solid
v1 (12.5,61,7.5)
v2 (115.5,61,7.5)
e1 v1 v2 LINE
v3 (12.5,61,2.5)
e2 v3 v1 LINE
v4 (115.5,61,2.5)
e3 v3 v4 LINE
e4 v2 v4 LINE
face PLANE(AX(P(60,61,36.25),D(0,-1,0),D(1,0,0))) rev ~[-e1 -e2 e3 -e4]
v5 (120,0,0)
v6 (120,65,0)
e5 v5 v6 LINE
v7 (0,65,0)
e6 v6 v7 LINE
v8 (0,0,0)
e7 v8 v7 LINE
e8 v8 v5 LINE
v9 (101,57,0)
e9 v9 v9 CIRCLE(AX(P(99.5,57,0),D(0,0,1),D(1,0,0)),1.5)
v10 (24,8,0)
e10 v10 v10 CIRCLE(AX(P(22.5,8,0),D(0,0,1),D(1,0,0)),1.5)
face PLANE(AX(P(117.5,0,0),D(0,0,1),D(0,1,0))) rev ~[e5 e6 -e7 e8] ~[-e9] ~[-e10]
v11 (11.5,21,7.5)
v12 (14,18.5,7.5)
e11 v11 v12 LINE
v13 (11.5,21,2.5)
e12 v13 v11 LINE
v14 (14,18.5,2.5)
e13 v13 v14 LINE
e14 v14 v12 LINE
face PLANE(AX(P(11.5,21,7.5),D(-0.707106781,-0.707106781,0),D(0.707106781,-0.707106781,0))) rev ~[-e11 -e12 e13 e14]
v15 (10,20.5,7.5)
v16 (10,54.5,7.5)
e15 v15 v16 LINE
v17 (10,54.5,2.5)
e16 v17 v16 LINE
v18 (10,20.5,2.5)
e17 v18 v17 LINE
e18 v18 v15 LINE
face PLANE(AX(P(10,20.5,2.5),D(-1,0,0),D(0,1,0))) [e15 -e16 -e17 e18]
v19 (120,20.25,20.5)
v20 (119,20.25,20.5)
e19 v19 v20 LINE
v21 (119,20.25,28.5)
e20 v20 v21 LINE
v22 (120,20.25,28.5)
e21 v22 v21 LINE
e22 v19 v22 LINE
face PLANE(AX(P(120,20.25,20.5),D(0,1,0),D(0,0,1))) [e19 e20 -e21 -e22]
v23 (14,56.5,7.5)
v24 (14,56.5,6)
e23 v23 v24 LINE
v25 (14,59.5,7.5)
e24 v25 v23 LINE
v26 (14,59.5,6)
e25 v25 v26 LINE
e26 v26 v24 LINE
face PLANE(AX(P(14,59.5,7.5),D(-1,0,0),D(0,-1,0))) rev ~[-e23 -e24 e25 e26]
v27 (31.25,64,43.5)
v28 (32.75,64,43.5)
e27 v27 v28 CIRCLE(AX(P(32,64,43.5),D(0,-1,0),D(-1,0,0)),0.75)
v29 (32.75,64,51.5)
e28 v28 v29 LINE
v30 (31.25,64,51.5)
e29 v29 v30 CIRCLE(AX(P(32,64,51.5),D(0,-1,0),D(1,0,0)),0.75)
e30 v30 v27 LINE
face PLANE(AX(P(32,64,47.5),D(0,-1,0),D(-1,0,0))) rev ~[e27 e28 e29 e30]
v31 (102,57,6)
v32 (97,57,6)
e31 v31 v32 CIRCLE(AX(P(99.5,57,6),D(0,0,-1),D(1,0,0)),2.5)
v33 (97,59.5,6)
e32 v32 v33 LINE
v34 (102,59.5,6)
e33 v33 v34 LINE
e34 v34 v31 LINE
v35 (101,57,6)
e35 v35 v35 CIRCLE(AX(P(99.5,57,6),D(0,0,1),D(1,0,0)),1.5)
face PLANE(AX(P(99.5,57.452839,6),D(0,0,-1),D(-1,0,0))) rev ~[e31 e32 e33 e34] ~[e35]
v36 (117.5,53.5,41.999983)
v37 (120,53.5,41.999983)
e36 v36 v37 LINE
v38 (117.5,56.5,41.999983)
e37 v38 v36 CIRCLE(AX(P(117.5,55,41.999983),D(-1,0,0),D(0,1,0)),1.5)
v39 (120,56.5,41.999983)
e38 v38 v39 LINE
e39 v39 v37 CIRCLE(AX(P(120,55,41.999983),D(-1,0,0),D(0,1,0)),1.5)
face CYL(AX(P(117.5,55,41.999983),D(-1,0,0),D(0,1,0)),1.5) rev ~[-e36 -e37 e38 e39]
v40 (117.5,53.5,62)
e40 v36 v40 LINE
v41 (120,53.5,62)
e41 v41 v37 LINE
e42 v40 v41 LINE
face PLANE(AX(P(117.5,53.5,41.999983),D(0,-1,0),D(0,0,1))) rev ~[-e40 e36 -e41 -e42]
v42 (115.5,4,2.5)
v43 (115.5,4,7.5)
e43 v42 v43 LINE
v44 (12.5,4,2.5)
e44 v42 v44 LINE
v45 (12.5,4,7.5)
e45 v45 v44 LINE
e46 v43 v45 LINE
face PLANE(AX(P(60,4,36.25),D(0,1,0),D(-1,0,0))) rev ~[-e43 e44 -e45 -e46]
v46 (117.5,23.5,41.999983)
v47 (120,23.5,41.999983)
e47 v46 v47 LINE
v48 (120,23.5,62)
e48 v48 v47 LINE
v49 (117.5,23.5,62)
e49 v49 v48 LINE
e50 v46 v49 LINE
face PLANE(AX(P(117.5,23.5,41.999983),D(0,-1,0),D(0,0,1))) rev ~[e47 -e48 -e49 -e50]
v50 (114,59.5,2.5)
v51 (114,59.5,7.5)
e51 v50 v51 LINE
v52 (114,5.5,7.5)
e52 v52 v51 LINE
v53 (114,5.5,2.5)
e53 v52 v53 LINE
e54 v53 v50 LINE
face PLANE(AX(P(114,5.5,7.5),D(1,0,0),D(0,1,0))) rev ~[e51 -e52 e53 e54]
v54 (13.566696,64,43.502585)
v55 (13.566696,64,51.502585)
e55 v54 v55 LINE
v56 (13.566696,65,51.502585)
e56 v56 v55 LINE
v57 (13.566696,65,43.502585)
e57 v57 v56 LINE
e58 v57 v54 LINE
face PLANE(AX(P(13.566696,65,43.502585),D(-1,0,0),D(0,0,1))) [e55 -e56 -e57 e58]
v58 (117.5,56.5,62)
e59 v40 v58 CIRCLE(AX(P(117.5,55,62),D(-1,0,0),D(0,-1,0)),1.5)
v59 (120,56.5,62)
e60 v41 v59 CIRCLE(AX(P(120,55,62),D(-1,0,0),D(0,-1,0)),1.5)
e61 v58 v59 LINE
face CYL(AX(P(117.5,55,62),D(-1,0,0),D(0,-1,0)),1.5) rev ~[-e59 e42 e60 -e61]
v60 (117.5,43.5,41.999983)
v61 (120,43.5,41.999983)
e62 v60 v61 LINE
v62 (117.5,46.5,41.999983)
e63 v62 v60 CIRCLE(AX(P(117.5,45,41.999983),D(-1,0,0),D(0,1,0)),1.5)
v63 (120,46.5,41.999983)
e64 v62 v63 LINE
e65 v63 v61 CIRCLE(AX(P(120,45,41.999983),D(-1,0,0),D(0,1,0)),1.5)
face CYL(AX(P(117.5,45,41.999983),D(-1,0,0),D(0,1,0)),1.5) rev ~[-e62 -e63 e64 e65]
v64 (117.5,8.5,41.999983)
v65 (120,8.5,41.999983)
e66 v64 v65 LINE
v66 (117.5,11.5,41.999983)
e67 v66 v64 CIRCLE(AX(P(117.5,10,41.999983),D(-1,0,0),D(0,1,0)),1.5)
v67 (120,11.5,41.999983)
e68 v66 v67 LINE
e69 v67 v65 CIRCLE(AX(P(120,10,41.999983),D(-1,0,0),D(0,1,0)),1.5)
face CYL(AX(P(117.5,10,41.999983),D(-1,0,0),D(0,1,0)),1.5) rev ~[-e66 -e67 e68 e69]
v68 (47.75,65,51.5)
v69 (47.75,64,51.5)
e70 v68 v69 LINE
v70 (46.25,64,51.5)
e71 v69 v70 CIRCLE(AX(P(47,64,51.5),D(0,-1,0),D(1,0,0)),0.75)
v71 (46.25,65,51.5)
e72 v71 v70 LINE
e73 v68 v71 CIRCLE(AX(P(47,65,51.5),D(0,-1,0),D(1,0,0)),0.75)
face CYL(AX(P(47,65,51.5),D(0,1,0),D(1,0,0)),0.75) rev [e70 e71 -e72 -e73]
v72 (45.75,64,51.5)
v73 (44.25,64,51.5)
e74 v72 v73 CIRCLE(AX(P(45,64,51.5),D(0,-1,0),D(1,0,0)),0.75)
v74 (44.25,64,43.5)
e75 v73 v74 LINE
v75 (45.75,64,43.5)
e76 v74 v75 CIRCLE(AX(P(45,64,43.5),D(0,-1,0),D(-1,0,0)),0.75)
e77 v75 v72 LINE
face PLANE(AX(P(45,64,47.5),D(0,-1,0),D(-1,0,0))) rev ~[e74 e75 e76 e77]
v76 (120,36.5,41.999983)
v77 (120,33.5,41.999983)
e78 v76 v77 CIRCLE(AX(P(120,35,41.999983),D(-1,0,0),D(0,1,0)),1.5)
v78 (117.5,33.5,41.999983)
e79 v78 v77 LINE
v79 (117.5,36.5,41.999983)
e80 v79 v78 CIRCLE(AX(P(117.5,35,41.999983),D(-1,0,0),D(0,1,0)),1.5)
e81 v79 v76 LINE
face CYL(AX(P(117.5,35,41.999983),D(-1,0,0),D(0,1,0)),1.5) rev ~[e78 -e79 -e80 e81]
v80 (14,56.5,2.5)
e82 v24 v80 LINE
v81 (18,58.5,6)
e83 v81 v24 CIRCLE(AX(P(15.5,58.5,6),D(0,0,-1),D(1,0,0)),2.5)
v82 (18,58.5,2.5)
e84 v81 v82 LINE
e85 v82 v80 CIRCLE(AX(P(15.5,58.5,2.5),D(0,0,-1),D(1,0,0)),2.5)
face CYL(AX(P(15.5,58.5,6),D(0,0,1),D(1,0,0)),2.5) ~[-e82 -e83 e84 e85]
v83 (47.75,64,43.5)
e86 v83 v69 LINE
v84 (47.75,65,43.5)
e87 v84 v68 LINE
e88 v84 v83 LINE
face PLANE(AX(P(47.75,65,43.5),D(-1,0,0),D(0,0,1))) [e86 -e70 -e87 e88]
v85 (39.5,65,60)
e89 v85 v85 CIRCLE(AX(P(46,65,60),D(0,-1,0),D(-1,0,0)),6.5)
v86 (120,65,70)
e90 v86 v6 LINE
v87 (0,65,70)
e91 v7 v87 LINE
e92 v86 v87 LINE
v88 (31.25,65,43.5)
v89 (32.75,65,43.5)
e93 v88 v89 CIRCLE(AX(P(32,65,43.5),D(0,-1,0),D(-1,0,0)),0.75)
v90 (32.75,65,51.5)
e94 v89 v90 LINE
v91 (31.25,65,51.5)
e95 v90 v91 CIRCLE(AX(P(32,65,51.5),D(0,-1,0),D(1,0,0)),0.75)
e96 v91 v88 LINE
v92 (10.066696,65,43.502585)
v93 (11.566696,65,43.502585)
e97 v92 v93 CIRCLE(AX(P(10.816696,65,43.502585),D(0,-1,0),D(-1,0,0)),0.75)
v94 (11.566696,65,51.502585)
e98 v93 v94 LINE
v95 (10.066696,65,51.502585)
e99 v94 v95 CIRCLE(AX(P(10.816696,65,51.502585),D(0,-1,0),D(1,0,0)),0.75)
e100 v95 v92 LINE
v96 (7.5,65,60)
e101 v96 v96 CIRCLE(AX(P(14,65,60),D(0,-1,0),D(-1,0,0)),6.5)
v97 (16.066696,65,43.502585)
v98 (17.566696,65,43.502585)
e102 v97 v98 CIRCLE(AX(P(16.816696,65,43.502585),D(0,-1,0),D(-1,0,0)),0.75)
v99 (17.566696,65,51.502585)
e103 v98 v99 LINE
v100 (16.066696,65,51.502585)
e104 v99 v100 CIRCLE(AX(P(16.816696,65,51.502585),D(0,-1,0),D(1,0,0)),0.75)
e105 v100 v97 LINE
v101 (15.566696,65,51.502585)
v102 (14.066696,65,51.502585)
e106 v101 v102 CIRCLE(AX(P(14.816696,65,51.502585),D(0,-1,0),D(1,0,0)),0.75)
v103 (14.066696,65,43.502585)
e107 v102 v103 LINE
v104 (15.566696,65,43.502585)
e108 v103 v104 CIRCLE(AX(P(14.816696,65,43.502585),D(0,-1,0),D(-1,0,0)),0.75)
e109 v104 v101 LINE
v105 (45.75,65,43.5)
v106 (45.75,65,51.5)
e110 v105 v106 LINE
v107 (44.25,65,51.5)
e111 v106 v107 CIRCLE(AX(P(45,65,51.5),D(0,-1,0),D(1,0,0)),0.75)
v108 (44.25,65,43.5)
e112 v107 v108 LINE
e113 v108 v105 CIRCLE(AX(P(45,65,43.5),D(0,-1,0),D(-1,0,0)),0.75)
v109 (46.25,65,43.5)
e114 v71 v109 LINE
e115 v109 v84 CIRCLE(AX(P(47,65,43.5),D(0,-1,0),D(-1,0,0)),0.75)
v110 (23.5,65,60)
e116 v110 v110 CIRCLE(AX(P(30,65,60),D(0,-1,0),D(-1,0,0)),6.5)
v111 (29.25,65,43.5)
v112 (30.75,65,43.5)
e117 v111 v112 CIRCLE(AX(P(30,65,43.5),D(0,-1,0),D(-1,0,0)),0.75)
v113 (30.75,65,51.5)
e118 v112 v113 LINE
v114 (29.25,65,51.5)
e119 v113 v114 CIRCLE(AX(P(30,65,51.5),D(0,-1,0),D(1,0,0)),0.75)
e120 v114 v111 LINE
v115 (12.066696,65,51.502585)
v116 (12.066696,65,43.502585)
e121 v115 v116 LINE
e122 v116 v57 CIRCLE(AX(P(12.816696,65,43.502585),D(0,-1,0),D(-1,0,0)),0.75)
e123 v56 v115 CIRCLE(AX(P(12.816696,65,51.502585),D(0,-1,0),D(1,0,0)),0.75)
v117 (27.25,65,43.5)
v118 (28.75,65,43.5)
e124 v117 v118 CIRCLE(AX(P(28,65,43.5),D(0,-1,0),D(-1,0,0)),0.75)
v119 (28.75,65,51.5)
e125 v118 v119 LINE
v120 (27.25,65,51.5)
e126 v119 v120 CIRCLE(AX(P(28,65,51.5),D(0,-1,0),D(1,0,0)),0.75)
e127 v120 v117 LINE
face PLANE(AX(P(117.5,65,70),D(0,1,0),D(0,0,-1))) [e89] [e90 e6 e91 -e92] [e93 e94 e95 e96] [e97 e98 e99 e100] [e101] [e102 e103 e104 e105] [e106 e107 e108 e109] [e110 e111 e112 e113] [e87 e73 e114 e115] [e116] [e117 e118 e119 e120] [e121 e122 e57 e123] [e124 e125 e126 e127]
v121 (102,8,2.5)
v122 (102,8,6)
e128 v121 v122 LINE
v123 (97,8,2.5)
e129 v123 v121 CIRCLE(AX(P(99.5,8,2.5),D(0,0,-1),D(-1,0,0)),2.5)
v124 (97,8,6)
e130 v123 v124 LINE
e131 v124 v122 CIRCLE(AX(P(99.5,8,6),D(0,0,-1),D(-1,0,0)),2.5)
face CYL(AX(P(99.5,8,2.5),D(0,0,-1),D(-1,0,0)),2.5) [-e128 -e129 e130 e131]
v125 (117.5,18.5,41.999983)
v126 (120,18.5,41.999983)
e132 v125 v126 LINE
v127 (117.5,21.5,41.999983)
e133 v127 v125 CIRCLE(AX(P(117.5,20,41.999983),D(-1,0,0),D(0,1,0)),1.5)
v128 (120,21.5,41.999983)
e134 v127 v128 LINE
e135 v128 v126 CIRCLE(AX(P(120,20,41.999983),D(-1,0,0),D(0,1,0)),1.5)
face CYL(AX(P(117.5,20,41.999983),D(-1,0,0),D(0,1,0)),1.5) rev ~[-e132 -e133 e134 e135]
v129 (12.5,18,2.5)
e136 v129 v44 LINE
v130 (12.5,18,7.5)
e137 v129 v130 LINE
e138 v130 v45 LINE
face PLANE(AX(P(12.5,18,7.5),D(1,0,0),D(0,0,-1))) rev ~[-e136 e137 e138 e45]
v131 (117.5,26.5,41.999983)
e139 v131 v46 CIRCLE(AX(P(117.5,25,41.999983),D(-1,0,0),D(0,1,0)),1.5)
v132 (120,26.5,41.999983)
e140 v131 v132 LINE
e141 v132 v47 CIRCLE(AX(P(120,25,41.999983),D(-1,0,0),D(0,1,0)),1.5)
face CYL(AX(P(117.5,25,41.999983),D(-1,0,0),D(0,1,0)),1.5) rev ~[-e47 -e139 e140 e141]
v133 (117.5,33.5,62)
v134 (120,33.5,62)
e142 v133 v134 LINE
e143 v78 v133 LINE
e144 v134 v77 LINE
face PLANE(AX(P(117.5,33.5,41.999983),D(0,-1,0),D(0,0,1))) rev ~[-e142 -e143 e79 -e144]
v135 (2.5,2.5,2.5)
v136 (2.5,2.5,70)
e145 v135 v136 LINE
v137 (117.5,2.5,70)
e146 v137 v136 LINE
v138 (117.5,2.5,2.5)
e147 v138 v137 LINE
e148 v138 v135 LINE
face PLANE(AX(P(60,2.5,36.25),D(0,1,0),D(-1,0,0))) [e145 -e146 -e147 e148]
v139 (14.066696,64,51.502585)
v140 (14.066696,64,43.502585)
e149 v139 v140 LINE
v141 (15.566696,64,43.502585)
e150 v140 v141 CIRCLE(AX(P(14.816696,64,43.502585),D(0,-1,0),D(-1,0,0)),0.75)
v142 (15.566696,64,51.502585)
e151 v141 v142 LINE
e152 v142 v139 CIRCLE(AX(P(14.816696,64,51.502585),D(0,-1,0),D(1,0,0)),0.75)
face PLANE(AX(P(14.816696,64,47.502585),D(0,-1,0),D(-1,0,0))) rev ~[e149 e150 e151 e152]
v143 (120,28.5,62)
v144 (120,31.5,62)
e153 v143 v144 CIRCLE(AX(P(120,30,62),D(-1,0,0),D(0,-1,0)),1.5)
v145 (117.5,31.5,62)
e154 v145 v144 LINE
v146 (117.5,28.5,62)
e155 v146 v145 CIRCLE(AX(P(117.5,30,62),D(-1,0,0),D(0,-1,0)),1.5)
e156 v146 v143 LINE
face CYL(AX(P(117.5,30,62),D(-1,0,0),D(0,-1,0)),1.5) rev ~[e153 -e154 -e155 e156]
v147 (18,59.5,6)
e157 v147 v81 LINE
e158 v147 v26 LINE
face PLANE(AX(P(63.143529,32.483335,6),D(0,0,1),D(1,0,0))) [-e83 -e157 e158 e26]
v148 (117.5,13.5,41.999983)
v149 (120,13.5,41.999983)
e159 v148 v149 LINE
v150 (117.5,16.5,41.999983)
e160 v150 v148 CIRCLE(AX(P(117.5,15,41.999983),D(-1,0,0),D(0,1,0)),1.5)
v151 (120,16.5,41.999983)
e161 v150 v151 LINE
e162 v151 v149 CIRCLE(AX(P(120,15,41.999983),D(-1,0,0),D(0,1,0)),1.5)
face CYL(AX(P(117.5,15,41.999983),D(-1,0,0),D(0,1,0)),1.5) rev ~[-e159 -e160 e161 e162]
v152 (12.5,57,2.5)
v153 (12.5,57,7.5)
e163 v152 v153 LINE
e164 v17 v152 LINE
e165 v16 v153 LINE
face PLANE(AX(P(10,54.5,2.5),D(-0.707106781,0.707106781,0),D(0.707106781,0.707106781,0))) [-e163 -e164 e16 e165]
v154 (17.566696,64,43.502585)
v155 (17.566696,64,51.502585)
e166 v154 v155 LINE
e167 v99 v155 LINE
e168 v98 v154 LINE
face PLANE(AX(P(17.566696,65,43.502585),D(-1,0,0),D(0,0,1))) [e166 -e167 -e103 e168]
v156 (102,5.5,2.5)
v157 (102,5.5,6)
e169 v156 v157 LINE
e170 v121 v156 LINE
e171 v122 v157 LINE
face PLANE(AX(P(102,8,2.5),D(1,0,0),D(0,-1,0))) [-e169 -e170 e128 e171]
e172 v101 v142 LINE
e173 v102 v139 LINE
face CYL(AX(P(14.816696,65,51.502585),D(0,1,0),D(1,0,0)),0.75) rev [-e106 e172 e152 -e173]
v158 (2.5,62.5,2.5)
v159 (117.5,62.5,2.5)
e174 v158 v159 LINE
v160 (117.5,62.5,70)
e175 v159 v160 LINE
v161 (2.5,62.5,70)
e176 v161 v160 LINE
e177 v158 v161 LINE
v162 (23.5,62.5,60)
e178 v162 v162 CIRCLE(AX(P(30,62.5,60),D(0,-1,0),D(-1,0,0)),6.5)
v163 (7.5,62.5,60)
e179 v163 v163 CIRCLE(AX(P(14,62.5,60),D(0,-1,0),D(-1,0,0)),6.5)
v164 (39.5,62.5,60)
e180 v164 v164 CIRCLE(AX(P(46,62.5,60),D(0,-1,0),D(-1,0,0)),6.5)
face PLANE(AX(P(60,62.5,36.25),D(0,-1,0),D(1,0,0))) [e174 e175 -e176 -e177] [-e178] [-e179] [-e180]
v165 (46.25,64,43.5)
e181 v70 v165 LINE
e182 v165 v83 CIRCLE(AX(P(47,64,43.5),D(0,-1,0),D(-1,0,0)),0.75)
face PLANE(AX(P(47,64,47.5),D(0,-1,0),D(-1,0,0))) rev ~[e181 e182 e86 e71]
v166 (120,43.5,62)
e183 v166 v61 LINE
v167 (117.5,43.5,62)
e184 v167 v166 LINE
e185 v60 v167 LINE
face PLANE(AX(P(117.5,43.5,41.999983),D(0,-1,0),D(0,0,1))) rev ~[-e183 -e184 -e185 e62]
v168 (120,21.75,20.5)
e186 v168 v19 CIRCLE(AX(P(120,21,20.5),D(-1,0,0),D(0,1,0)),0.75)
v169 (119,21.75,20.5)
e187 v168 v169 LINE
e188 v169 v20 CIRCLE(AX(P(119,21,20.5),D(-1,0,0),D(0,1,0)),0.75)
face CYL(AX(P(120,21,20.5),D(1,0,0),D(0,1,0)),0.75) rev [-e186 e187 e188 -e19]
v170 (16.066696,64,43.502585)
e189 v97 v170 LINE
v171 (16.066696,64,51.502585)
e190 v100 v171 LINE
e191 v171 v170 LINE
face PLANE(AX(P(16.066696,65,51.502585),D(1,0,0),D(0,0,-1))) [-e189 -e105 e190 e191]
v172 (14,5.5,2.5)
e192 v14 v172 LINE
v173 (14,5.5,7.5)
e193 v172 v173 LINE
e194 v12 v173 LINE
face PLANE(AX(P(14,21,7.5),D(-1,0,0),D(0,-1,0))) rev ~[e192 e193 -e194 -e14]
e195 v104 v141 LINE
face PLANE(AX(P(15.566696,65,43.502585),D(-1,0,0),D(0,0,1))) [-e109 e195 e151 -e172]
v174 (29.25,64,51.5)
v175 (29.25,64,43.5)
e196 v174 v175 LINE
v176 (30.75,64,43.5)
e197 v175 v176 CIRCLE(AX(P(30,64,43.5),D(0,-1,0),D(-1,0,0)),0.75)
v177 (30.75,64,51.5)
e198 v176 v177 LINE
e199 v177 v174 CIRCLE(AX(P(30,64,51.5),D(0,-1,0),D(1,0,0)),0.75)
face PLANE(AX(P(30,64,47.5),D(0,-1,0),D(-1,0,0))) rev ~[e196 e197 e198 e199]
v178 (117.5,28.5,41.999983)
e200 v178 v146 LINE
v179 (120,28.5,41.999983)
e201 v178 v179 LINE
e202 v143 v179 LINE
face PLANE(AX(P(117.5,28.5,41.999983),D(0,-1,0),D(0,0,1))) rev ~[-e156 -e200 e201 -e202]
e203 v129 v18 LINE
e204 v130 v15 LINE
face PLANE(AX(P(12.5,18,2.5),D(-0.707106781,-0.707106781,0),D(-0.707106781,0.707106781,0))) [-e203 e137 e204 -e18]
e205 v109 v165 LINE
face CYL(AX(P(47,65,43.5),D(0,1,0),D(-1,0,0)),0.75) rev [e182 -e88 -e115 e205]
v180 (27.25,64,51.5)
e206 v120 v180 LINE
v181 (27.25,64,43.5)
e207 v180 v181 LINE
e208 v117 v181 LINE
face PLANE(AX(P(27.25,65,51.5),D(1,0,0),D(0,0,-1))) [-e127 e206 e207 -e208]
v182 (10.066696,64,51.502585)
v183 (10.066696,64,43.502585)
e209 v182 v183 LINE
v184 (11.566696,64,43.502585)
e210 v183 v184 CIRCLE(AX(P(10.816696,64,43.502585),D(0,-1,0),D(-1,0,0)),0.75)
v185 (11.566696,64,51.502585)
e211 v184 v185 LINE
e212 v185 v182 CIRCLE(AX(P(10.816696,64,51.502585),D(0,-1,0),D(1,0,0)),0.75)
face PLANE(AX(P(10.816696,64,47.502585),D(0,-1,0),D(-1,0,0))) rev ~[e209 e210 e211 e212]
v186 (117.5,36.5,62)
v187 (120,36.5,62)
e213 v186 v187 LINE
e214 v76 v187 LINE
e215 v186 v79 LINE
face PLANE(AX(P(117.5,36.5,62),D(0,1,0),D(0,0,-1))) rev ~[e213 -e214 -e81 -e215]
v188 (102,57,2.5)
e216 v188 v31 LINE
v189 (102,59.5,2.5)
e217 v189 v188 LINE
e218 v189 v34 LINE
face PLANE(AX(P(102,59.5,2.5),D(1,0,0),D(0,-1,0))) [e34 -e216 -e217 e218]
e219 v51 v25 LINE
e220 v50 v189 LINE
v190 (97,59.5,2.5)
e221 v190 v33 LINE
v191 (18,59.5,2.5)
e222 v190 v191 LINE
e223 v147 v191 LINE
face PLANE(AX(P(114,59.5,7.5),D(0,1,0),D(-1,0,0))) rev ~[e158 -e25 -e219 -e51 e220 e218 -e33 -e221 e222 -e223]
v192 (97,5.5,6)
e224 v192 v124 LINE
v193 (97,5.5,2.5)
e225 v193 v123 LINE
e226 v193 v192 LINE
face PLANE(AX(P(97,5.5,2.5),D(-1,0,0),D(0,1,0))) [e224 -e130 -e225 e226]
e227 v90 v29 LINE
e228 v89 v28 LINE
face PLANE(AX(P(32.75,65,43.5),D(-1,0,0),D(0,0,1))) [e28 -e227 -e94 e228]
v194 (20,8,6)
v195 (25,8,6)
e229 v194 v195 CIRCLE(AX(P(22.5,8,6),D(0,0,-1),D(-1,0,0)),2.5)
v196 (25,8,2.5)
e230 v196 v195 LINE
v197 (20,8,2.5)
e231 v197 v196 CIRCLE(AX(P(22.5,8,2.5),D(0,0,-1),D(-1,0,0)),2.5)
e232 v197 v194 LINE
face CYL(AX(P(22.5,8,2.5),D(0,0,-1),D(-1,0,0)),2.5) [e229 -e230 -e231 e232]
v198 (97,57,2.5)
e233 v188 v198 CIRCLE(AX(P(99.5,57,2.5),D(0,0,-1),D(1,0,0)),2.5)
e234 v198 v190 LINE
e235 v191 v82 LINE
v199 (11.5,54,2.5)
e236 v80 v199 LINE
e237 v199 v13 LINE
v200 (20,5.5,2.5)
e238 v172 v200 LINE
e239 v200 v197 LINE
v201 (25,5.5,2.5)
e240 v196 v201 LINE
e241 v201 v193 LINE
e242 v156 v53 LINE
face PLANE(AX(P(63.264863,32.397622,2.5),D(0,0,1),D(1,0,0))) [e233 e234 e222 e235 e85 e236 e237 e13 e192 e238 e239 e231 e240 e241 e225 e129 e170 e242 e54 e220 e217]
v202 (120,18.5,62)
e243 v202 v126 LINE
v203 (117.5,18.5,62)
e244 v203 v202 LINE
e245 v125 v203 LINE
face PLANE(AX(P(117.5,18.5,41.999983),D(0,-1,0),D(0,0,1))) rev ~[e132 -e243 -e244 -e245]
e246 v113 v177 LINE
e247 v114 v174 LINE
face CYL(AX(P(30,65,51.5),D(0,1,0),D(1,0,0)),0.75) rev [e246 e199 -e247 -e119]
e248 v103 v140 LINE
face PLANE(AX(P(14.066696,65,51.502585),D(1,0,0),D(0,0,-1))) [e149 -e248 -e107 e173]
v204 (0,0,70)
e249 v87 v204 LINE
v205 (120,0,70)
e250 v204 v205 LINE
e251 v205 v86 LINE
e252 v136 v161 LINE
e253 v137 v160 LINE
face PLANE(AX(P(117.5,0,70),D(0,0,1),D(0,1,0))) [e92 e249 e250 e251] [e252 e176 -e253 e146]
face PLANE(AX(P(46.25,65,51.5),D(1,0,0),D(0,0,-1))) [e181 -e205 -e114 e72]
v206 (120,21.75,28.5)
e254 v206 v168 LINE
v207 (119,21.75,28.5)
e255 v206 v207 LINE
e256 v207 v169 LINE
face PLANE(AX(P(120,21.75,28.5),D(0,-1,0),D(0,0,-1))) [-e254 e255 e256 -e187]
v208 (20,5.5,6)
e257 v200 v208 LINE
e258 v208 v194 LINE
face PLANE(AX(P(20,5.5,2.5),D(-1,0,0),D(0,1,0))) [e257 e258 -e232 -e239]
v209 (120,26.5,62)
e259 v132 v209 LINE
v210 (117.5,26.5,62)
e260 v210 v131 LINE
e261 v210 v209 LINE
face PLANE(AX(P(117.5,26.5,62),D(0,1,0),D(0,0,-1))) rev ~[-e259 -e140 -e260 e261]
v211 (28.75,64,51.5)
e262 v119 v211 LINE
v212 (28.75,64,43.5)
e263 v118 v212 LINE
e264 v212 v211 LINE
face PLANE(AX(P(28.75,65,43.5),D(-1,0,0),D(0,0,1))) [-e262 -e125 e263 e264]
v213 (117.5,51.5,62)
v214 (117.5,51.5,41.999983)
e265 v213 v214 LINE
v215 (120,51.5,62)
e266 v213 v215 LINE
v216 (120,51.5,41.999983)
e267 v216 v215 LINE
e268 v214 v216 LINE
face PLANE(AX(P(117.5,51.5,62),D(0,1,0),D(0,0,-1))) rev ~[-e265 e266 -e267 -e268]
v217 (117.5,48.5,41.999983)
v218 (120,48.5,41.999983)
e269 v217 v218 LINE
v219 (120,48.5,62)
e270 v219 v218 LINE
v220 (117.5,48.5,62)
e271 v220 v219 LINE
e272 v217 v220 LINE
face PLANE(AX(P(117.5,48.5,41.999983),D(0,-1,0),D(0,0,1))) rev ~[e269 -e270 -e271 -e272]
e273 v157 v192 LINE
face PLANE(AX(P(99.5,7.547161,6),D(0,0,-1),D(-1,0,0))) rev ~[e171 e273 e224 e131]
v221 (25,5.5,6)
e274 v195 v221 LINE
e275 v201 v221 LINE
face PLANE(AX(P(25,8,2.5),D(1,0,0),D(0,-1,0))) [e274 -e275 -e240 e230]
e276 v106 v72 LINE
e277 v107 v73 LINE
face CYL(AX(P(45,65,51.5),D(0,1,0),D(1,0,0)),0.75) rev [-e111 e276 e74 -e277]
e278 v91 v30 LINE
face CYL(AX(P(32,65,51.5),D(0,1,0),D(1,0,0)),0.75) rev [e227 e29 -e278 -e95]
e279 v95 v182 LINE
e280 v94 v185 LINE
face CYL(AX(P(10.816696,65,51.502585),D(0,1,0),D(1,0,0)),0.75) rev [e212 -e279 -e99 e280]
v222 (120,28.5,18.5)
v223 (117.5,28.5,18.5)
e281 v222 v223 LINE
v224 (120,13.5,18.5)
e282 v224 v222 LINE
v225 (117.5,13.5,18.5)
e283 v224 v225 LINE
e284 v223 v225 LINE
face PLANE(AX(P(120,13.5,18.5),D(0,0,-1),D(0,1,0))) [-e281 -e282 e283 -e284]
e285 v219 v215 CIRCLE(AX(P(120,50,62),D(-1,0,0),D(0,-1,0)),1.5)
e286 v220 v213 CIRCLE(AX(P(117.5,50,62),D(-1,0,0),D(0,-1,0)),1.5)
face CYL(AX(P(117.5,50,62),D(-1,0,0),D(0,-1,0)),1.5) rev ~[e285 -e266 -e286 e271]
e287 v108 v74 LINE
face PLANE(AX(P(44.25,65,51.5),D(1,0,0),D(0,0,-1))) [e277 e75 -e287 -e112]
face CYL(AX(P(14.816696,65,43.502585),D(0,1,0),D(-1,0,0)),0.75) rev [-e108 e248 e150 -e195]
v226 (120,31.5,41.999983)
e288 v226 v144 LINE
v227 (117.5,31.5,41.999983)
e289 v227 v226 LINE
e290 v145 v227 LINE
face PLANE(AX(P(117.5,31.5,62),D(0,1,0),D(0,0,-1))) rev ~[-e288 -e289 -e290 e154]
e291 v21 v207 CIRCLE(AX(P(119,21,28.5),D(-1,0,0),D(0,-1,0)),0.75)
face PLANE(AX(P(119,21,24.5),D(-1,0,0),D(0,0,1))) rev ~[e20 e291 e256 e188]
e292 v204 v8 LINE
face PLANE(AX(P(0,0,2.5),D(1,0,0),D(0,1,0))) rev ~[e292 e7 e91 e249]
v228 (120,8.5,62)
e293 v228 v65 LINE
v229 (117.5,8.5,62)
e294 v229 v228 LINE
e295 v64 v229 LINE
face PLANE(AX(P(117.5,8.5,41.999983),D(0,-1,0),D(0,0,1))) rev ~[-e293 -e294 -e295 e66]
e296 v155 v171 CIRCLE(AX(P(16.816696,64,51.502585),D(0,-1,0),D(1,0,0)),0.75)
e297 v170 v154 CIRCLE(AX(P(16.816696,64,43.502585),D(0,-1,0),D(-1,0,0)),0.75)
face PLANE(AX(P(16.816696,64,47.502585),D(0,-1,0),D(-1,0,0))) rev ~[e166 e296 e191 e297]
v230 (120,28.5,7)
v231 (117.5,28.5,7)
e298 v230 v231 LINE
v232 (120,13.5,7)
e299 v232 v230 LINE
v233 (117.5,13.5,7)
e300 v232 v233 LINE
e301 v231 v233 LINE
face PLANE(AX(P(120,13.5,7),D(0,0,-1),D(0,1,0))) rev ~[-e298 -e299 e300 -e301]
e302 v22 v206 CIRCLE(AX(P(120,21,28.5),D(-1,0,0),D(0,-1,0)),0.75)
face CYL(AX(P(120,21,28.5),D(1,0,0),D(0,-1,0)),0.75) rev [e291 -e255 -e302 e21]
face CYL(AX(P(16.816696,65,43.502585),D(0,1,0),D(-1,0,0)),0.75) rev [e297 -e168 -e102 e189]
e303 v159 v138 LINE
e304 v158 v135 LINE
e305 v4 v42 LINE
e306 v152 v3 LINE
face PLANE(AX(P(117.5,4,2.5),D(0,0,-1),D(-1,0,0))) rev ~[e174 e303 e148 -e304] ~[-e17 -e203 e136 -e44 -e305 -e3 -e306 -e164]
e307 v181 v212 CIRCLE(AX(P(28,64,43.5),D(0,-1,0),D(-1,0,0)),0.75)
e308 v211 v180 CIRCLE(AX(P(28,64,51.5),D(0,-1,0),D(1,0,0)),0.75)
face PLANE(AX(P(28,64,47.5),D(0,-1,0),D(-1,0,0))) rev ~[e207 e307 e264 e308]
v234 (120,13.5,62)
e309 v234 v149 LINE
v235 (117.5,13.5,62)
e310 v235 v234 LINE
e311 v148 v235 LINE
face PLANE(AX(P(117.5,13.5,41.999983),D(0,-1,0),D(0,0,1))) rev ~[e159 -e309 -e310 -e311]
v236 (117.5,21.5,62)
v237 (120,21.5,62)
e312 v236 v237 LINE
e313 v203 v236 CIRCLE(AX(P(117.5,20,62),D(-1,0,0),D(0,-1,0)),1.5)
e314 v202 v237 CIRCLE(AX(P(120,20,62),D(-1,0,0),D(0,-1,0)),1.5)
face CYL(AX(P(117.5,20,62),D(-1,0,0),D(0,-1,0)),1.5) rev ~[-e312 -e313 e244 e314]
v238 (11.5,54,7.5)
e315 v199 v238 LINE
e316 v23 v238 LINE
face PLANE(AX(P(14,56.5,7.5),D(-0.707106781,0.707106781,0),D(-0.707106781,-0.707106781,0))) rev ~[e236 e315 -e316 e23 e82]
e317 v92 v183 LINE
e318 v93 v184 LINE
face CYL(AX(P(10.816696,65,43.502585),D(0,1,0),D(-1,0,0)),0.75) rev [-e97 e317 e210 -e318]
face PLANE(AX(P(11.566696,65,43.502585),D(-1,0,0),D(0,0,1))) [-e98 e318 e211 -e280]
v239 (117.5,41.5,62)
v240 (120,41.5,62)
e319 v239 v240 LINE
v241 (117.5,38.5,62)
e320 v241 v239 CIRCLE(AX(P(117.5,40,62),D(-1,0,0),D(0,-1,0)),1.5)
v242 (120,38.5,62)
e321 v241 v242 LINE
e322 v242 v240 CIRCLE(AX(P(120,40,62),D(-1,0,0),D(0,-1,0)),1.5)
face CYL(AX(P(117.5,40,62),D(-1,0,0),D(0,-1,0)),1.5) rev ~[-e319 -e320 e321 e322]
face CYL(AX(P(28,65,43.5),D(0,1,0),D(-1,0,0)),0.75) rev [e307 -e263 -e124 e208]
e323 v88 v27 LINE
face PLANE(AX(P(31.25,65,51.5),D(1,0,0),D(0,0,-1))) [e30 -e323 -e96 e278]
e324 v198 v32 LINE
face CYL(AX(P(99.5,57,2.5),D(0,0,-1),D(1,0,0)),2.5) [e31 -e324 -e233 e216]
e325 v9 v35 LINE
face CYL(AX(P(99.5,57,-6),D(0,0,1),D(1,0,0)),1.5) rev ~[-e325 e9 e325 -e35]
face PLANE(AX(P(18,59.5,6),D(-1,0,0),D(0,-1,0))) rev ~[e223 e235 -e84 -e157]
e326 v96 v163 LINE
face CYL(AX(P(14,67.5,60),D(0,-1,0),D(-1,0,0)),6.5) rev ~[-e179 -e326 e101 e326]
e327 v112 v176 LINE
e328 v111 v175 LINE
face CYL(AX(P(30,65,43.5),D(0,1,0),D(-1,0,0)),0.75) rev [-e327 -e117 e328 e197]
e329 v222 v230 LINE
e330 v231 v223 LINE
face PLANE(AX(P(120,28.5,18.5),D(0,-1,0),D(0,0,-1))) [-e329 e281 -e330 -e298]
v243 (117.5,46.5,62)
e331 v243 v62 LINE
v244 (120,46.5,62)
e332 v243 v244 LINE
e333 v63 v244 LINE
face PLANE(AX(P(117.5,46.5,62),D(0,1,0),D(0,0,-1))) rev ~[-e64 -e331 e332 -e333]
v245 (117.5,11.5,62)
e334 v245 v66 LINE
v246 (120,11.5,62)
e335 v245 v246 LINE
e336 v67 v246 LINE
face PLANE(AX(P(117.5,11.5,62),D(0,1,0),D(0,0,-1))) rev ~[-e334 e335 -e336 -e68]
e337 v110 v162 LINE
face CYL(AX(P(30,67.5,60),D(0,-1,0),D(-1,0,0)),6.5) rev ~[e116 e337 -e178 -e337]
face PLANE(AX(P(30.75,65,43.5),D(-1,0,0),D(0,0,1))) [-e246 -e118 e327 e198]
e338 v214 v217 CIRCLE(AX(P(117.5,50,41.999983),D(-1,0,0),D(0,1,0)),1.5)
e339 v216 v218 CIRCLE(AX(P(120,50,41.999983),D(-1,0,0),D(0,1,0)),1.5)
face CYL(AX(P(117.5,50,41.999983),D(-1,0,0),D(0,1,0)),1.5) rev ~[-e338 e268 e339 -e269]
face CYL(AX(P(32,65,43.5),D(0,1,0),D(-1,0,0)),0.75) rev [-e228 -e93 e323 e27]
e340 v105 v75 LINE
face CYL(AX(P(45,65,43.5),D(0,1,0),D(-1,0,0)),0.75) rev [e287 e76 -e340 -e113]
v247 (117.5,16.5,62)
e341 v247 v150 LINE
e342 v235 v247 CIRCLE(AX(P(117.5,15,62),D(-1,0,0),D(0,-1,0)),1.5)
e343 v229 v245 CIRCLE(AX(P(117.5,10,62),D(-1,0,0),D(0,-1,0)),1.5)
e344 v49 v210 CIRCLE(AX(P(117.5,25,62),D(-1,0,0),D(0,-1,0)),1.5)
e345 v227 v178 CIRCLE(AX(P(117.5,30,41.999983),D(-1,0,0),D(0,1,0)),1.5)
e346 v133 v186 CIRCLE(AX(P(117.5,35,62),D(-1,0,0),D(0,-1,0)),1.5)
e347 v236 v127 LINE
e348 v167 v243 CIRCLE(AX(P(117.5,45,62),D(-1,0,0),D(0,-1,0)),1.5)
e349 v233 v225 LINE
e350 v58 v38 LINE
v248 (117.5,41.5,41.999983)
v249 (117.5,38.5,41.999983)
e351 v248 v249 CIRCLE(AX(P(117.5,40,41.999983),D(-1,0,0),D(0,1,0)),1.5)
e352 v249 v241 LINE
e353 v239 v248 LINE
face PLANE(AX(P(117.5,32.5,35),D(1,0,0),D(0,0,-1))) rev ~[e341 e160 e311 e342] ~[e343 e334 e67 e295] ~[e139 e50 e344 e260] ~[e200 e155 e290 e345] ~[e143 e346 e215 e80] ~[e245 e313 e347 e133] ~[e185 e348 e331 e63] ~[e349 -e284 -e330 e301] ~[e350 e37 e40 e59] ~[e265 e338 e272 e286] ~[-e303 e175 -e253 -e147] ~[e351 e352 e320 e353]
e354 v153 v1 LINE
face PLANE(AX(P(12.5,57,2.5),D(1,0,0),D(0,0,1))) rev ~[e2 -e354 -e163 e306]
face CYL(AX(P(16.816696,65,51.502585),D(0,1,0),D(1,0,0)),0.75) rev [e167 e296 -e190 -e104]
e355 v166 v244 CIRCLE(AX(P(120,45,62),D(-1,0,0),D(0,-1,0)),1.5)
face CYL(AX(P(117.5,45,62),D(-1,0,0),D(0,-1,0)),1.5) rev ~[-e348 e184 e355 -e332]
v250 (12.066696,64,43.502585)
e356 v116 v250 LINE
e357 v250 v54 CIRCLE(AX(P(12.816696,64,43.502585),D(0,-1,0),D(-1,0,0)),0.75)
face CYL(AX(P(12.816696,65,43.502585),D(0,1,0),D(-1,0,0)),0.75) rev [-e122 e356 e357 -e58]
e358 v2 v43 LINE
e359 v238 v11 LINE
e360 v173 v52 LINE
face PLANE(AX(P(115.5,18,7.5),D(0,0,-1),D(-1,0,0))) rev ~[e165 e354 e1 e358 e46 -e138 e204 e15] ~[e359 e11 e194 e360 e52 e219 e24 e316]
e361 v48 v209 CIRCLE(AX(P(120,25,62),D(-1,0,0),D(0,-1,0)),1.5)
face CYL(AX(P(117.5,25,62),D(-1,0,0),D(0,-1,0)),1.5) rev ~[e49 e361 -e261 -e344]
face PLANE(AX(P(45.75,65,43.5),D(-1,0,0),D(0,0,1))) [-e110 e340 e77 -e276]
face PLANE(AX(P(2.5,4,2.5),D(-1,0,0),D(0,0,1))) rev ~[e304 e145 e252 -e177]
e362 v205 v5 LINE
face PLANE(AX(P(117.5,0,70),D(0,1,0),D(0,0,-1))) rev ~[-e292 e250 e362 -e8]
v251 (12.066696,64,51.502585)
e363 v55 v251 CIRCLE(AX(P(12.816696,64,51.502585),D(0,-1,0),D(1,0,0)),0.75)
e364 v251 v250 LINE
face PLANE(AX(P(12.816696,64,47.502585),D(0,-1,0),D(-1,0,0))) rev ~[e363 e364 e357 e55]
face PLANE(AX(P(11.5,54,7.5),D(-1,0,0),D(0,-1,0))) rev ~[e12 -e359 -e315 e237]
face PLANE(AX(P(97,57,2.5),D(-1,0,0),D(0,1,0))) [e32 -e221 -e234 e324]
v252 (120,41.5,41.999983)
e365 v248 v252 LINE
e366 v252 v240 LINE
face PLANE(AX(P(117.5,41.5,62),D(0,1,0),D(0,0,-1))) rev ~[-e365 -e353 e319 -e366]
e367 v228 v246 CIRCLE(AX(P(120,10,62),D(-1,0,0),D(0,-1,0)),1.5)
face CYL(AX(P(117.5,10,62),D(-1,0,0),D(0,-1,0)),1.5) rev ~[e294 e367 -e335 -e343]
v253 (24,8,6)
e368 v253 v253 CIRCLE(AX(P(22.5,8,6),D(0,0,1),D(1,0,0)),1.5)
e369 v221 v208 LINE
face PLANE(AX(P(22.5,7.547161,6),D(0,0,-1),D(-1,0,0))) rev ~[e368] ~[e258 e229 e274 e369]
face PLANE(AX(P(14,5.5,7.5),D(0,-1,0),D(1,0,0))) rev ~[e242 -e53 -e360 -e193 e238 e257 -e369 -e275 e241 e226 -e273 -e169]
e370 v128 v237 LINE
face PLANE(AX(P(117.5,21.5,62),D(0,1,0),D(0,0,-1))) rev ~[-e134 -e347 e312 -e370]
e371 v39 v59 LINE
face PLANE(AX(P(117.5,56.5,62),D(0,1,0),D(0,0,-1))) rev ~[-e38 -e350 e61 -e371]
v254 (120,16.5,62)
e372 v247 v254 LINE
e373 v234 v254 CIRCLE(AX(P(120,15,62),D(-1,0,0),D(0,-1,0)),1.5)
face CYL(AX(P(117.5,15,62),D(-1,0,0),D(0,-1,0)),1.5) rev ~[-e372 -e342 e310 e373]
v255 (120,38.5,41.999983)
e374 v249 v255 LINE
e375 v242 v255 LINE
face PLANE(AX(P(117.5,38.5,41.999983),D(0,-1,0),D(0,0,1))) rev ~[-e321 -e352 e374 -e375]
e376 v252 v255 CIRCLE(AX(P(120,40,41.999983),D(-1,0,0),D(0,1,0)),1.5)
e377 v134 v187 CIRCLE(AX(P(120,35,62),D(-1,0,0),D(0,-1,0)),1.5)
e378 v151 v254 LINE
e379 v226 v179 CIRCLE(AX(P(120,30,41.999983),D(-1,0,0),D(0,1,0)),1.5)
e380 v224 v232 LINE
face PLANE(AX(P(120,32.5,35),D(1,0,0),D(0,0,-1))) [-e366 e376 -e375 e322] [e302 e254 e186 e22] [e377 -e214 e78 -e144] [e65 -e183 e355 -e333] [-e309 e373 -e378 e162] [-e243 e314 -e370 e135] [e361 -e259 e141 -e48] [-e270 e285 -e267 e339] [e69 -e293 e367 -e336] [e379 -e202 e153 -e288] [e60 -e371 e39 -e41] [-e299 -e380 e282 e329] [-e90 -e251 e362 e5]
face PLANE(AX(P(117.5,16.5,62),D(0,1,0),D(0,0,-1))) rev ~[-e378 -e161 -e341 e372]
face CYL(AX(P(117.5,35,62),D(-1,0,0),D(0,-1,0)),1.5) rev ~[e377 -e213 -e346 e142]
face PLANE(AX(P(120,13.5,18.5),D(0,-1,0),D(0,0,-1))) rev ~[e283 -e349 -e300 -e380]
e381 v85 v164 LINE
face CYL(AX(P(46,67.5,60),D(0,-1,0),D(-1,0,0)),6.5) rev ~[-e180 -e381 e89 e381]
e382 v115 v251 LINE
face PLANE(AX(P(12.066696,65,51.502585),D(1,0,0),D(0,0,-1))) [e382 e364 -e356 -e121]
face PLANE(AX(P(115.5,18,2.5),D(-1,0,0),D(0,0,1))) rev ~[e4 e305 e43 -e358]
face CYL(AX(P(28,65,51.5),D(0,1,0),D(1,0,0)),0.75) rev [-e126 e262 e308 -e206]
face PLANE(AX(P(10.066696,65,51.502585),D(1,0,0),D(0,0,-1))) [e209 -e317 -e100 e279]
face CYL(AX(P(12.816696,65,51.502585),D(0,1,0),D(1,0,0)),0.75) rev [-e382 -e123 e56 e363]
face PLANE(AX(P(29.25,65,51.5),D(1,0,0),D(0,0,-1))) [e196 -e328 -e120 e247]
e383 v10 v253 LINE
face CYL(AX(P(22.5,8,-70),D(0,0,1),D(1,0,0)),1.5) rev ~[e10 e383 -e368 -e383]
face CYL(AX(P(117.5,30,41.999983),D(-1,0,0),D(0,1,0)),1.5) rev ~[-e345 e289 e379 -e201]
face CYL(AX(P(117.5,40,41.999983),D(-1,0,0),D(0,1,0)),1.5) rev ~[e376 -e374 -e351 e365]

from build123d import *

# Parameters (mm, degrees)
BOSS_EXTRUDE1_DEPTH            = 5
SKETCH2_W                      = 5
SKETCH2_H                      = 39
BOSS_EXTRUDE2_DEPTH            = 103
SKETCH3_W                      = 117.5
SKETCH3_H                      = 67.5
BOSS_EXTRUDE3_DEPTH            = 18
SKETCH4_W                      = 2.5
SKETCH4_H                      = 67.5
BOSS_EXTRUDE4_DEPTH            = 39
SKETCH5_W                      = 117.5
SKETCH5_H                      = 67.5
BOSS_EXTRUDE5_DEPTH            = 8
CUT_EXTRUDE1_DEPTH             = 4
SKETCH7_W                      = 117.5
SKETCH7_H                      = 65
BOSS_EXTRUDE6_DEPTH            = 2.5
SKETCH8_W                      = 115
SKETCH8_H                      = 67.5
CUT_EXTRUDE2_DEPTH             = 1.5
CUT_EXTRUDE3_DEPTH             = 14
SKETCH10_W                     = 115
SKETCH10_H                     = 67.5
CUT_EXTRUDE4_DEPTH             = 1.5
SKETCH11_W                     = 70
SKETCH11_H                     = 65
BOSS_EXTRUDE7_DEPTH            = 2.5
CUT_EXTRUDE5_DEPTH             = 1.5
CUT_EXTRUDE6_DEPTH             = 3.5
CUT_EXTRUDE7_DEPTH             = 3.5
CUT_EXTRUDE8_DEPTH             = 3.5
CUT_EXTRUDE9_DEPTH             = 3.5
CUT_EXTRUDE10_DEPTH            = 3.5
CUT_EXTRUDE11_DEPTH            = 3.5
CUT_EXTRUDE12_DEPTH            = 3.5
CUT_EXTRUDE13_DEPTH            = 3.5
CUT_EXTRUDE14_DEPTH            = 3.5
CUT_EXTRUDE15_DEPTH            = 3.5
CUT_EXTRUDE16_DEPTH            = 3.5
CUT_EXTRUDE17_REACH            = 122
SKETCH24_W                     = 11.5
SKETCH24_H                     = 15
BOSS_EXTRUDE8_DEPTH            = 3.5
BOSS_EXTRUDE9_DEPTH            = 3.5
BOSS_EXTRUDE10_DEPTH           = 3.5
DRAFT1_ANGLE                   = 45
F_3_0_3_DIAMETER_HOLE1_D       = 3
F_3_0_3_DIAMETER_HOLE1_DEPTH   = 70
F_3_0_3_DIAMETER_HOLE2_D       = 3
F_3_0_3_DIAMETER_HOLE2_DEPTH   = 6
F_13_0_13_DIAMETER_HOLE1_D     = 13
F_13_0_13_DIAMETER_HOLE1_DEPTH = 2.5
CUT_EXTRUDE18_DEPTH            = 1
CUT_EXTRUDE19_DEPTH            = 1


with BuildPart() as part:
    # Sketch1 → Boss-Extrude1 (new body)
    with BuildSketch(Plane(origin=(0, 0, 2.5), x_dir=(-1, 0, 0), z_dir=(0, 0, -1))):
        Polygon((-12.5, 57), (-12.5, 18), (-10, 20.5), (-10, 54.5), align=None)
    extrude(amount=-BOSS_EXTRUDE1_DEPTH)

    # Sketch2 → Boss-Extrude2 (add)
    with BuildSketch(Plane(origin=(12.5, 0, 0), x_dir=(0, 0, -1), z_dir=(1, 0, 0))):
        with Locations((-5, 37.5)):
            Rectangle(SKETCH2_W, SKETCH2_H)
    extrude(amount=BOSS_EXTRUDE2_DEPTH)

    # Sketch3 → Boss-Extrude3 (add)
    with BuildSketch(Plane.XZ.offset(-18)):
        with Locations((58.75, 36.25)):
            Rectangle(SKETCH3_W, SKETCH3_H)
    extrude(amount=BOSS_EXTRUDE3_DEPTH)

    # Sketch4 → Boss-Extrude4 (add)
    with BuildSketch(Plane(origin=(0, 18, 0), x_dir=(-1, 0, 0), z_dir=(0, 1, 0))):
        with Locations((-1.25, 36.25)):
            Rectangle(SKETCH4_W, SKETCH4_H)
    extrude(amount=BOSS_EXTRUDE4_DEPTH)

    # Sketch5 → Boss-Extrude5 (add)
    with BuildSketch(Plane(origin=(0, 57, 0), x_dir=(-1, 0, 0), z_dir=(0, 1, 0))):
        with Locations((-58.75, 36.25)):
            Rectangle(SKETCH5_W, SKETCH5_H)
    extrude(amount=BOSS_EXTRUDE5_DEPTH)

    # Sketch6 → Cut-Extrude1 (cut)
    with BuildSketch(Plane.XZ.offset(-57)):
        Polygon((115.5, 7.5), (115.5, 2.5), (117.5, 2.5), (117.5, 70), (2.5, 70), (2.5, 2.5), (12.5, 2.5), (12.5, 7.5), align=None)
    extrude(amount=-CUT_EXTRUDE1_DEPTH, mode=Mode.SUBTRACT)

    # Sketch7 → Boss-Extrude6 (add)
    with BuildSketch(Plane(origin=(0, 0, 2.5), x_dir=(-1, 0, 0), z_dir=(0, 0, -1))):
        with Locations((-58.75, 32.5)):
            Rectangle(SKETCH7_W, SKETCH7_H)
    extrude(amount=BOSS_EXTRUDE6_DEPTH)

    # Sketch8 → Cut-Extrude2 (cut)
    with BuildSketch(Plane.XZ.offset(-61)):
        with Locations((60, 36.25)):
            Rectangle(SKETCH8_W, SKETCH8_H)
    extrude(amount=-CUT_EXTRUDE2_DEPTH, mode=Mode.SUBTRACT)

    # Sketch9 → Cut-Extrude3 (cut)
    with BuildSketch(Plane(origin=(0, 18, 0), x_dir=(-1, 0, 0), z_dir=(0, 1, 0))):
        Polygon((-115.5, 2.5), (-115.5, 7.5), (-12.5, 7.5), (-12.5, 2.5), (-2.5, 2.5), (-2.5, 70), (-117.5, 70), (-117.5, 2.5), align=None)
    extrude(amount=-CUT_EXTRUDE3_DEPTH, mode=Mode.SUBTRACT)

    # Sketch10 → Cut-Extrude4 (cut)
    with BuildSketch(Plane(origin=(0, 4, 0), x_dir=(-1, 0, 0), z_dir=(0, 1, 0))):
        with Locations((-60, 36.25)):
            Rectangle(SKETCH10_W, SKETCH10_H)
    extrude(amount=-CUT_EXTRUDE4_DEPTH, mode=Mode.SUBTRACT)

    # Sketch11 → Boss-Extrude7 (add)
    with BuildSketch(Plane(origin=(117.5, 0, 0), x_dir=(0, 0, -1), z_dir=(1, 0, 0))):
        with Locations((-35, 32.5)):
            Rectangle(SKETCH11_W, SKETCH11_H)
    extrude(amount=BOSS_EXTRUDE7_DEPTH)

    # Sketch12 → Cut-Extrude5 (cut)
    with BuildSketch(Plane.XY.offset(7.5)):
        Polygon((114, 5.5), (114, 59.5), (14, 59.5), (14, 56.5), (11.5, 54), (11.5, 21), (14, 21), (14, 5.5), align=None)
    extrude(amount=-CUT_EXTRUDE5_DEPTH, mode=Mode.SUBTRACT)

    # Sketch13 → Cut-Extrude6 (cut)
    with BuildSketch(Plane.XY.offset(6)):
        with BuildLine():
            Line((14, 21), (14, 5.5))
            Line((14, 5.5), (114, 5.5))
            Line((114, 5.5), (114, 59.5))
            Line((114, 59.5), (18, 59.5))
            Line((18, 59.5), (18, 58.5))
            ThreePointArc((18, 58.5), (16.618033989, 56.263932023), (14, 56.5))
            Line((14, 56.5), (11.5, 54))
            Line((11.5, 54), (11.5, 21))
            Line((11.5, 21), (14, 21))
        make_face()
    extrude(amount=-CUT_EXTRUDE6_DEPTH, mode=Mode.SUBTRACT)

    # Sketch14 → Cut-Extrude7 (cut, through all)
    with BuildSketch(Plane.ZY.offset(-117.5)):
        with BuildLine():
            Line((41.999982861, 53.5), (62, 53.5))
            ThreePointArc((62, 53.5), (63.5, 55), (62, 56.5))
            Line((62, 56.5), (41.999982861, 56.5))
            ThreePointArc((41.999982861, 56.5), (40.499982861, 55), (41.999982861, 53.5))
        make_face()
    extrude(amount=-CUT_EXTRUDE7_DEPTH, mode=Mode.SUBTRACT)

    # Sketch15 → Cut-Extrude8 (cut, through all)
    with BuildSketch(Plane.ZY.offset(-117.5)):
        with BuildLine():
            Line((41.999982861, 48.5), (62, 48.5))
            ThreePointArc((62, 48.5), (63.5, 50), (62, 51.5))
            Line((62, 51.5), (41.999982861, 51.5))
            ThreePointArc((41.999982861, 51.5), (40.499982861, 50), (41.999982861, 48.5))
        make_face()
    extrude(amount=-CUT_EXTRUDE8_DEPTH, mode=Mode.SUBTRACT)

    # Sketch16 → Cut-Extrude9 (cut, through all)
    with BuildSketch(Plane.ZY.offset(-117.5)):
        with BuildLine():
            Line((41.999982861, 43.5), (62, 43.5))
            ThreePointArc((62, 43.5), (63.5, 45), (62, 46.5))
            Line((62, 46.5), (41.999982861, 46.5))
            ThreePointArc((41.999982861, 46.5), (40.499982861, 45), (41.999982861, 43.5))
        make_face()
    extrude(amount=-CUT_EXTRUDE9_DEPTH, mode=Mode.SUBTRACT)

    # Sketch17 → Cut-Extrude10 (cut, through all)
    with BuildSketch(Plane.ZY.offset(-117.5)):
        with BuildLine():
            Line((41.999982861, 38.5), (62, 38.5))
            ThreePointArc((62, 38.5), (63.5, 40), (62, 41.5))
            Line((62, 41.5), (41.999982861, 41.5))
            ThreePointArc((41.999982861, 41.5), (40.499982861, 40), (41.999982861, 38.5))
        make_face()
    extrude(amount=-CUT_EXTRUDE10_DEPTH, mode=Mode.SUBTRACT)

    # Sketch18 → Cut-Extrude11 (cut, through all)
    with BuildSketch(Plane.ZY.offset(-117.5)):
        with BuildLine():
            Line((41.999982861, 33.5), (62, 33.5))
            ThreePointArc((62, 33.5), (63.5, 35), (62, 36.5))
            Line((62, 36.5), (41.999982861, 36.5))
            ThreePointArc((41.999982861, 36.5), (40.499982861, 35), (41.999982861, 33.5))
        make_face()
    extrude(amount=-CUT_EXTRUDE11_DEPTH, mode=Mode.SUBTRACT)

    # Sketch19 → Cut-Extrude12 (cut, through all)
    with BuildSketch(Plane.ZY.offset(-117.5)):
        with BuildLine():
            Line((41.999982861, 28.5), (62, 28.5))
            ThreePointArc((62, 28.5), (63.5, 30), (62, 31.5))
            Line((62, 31.5), (41.999982861, 31.5))
            ThreePointArc((41.999982861, 31.5), (40.499982861, 30), (41.999982861, 28.5))
        make_face()
    extrude(amount=-CUT_EXTRUDE12_DEPTH, mode=Mode.SUBTRACT)

    # Sketch20 → Cut-Extrude13 (cut, through all)
    with BuildSketch(Plane.ZY.offset(-117.5)):
        with BuildLine():
            Line((41.999982861, 23.5), (62, 23.5))
            ThreePointArc((62, 23.5), (63.5, 25), (62, 26.5))
            Line((62, 26.5), (41.999982861, 26.5))
            ThreePointArc((41.999982861, 26.5), (40.499982861, 25), (41.999982861, 23.5))
        make_face()
    extrude(amount=-CUT_EXTRUDE13_DEPTH, mode=Mode.SUBTRACT)

    # Sketch21 → Cut-Extrude14 (cut, through all)
    with BuildSketch(Plane.ZY.offset(-117.5)):
        with BuildLine():
            Line((41.999982861, 18.5), (62, 18.5))
            ThreePointArc((62, 18.5), (63.5, 20), (62, 21.5))
            Line((62, 21.5), (41.999982861, 21.5))
            ThreePointArc((41.999982861, 21.5), (40.499982861, 20), (41.999982861, 18.5))
        make_face()
    extrude(amount=-CUT_EXTRUDE14_DEPTH, mode=Mode.SUBTRACT)

    # Sketch22 → Cut-Extrude15 (cut, through all)
    with BuildSketch(Plane.ZY.offset(-117.5)):
        with BuildLine():
            Line((62, 11.5), (41.999982861, 11.5))
            ThreePointArc((41.999982861, 11.5), (40.499982861, 10), (41.999982861, 8.5))
            Line((41.999982861, 8.5), (62, 8.5))
            ThreePointArc((62, 8.5), (63.5, 10), (62, 11.5))
        make_face()
    extrude(amount=-CUT_EXTRUDE15_DEPTH, mode=Mode.SUBTRACT)

    # Sketch23 → Cut-Extrude16 (cut, through all)
    with BuildSketch(Plane.ZY.offset(-117.5)):
        with BuildLine():
            Line((41.999982861, 13.5), (62, 13.5))
            ThreePointArc((62, 13.5), (63.5, 15), (62, 16.5))
            Line((62, 16.5), (41.999982861, 16.5))
            ThreePointArc((41.999982861, 16.5), (40.499982861, 15), (41.999982861, 13.5))
        make_face()
    extrude(amount=-CUT_EXTRUDE16_DEPTH, mode=Mode.SUBTRACT)

    # Sketch24 → Cut-Extrude17 (cut, up to next)
    with BuildSketch(Plane(origin=(120, 0, 0), x_dir=(0, 0, -1), z_dir=(1, 0, 0)), mode=Mode.PRIVATE) as cut_extrude17_sk1:
        with Locations((-12.75, 21)):
            Rectangle(SKETCH24_W, SKETCH24_H)
    cut_extrude17_tool1 = extrude(cut_extrude17_sk1.sketch, amount=-CUT_EXTRUDE17_REACH, mode=Mode.PRIVATE) & part.part
    add(cut_extrude17_tool1.solids().sort_by_distance((120, 21, 12.75))[0], mode=Mode.SUBTRACT)

    # Sketch25 → Boss-Extrude8 (add)
    with BuildSketch(Plane.XY.offset(2.5)):
        with BuildLine():
            Line((102, 8), (102, 5.5))
            Line((102, 5.5), (97, 5.5))
            Line((97, 5.5), (97, 8))
            ThreePointArc((97, 8), (99.5, 10.5), (102, 8))
        make_face()
    extrude(amount=BOSS_EXTRUDE8_DEPTH)

    # Sketch26 → Boss-Extrude9 (add)
    with BuildSketch(Plane.XY.offset(2.5)):
        with BuildLine():
            Line((25, 8), (25, 5.5))
            Line((25, 5.5), (20, 5.5))
            Line((20, 5.5), (20, 8))
            ThreePointArc((20, 8), (22.5, 10.5), (25, 8))
        make_face()
    extrude(amount=BOSS_EXTRUDE9_DEPTH)

    # Sketch27 → Boss-Extrude10 (add)
    with BuildSketch(Plane.XY.offset(2.5)):
        with BuildLine():
            Line((97, 57), (97, 59.5))
            Line((97, 59.5), (102, 59.5))
            Line((102, 59.5), (102, 57))
            ThreePointArc((102, 57), (99.5, 54.5), (97, 57))
        make_face()
    extrude(amount=BOSS_EXTRUDE10_DEPTH)

    # Draft1
    draft1_faces = [part.faces().sort_by_distance(p)[0] for p in [
        (12.75, 21, 5),
    ]]
    draft(draft1_faces, Plane(origin=(11.5, 54, 6), x_dir=(0, 0, 1), z_dir=(1, 0, 0)), DRAFT1_ANGLE)

    # Ø3.0 (3) Diameter Hole1
    with Locations(Plane(origin=(0, 0, 0), x_dir=(-1, 0, 0), z_dir=(0, 0, -1))):
        with Locations((-22.5, 8)):
            Hole(F_3_0_3_DIAMETER_HOLE1_D / 2, depth=F_3_0_3_DIAMETER_HOLE1_DEPTH)

    # Ø3.0 (3) Diameter Hole2
    with Locations(Plane(origin=(0, 0, 0), x_dir=(-1, 0, 0), z_dir=(0, 0, -1))):
        with Locations((-99.5, 57)):
            Hole(F_3_0_3_DIAMETER_HOLE2_D / 2, depth=F_3_0_3_DIAMETER_HOLE2_DEPTH)

    # Ø13.0 (13) Diameter Hole1
    with Locations(Plane(origin=(0, 65, 0), x_dir=(1, 0, 0), z_dir=(0, 1, 0))):
        with Locations((14, -60), (46, -60), (30, -60)):
            Hole(F_13_0_13_DIAMETER_HOLE1_D / 2, depth=F_13_0_13_DIAMETER_HOLE1_DEPTH)

    # Sketch36 → Cut-Extrude18 (cut)
    with BuildSketch(Plane(origin=(120, 0, 0), x_dir=(0, 0, -1), z_dir=(1, 0, 0))):
        with BuildLine():
            Line((-28.5, 21.75), (-20.5, 21.75))
            ThreePointArc((-20.5, 21.75), (-19.75, 21), (-20.5, 20.25))
            Line((-20.5, 20.25), (-28.5, 20.25))
            ThreePointArc((-28.5, 20.25), (-29.25, 21), (-28.5, 21.75))
        make_face()
    extrude(amount=-CUT_EXTRUDE18_DEPTH, mode=Mode.SUBTRACT)

    # Sketch37 → Cut-Extrude19 (cut)
    with BuildSketch(Plane(origin=(0, 65, 0), x_dir=(1, 0, 0), z_dir=(0, 1, 0))):
        with BuildLine():
            Line((45.75, -43.5), (45.75, -51.5))
            ThreePointArc((45.75, -51.5), (45, -52.25), (44.25, -51.5))
            Line((44.25, -51.5), (44.25, -43.5))
            ThreePointArc((44.25, -43.5), (45, -42.75), (45.75, -43.5))
        make_face()
        with BuildLine():
            Line((47.75, -43.5), (47.75, -51.5))
            ThreePointArc((47.75, -51.5), (47, -52.25), (46.25, -51.5))
            Line((46.25, -51.5), (46.25, -43.5))
            ThreePointArc((46.25, -43.5), (47, -42.75), (47.75, -43.5))
        make_face()
        with BuildLine():
            Line((28.75, -43.5), (28.75, -51.5))
            ThreePointArc((28.75, -51.5), (28, -52.25), (27.25, -51.5))
            Line((27.25, -51.5), (27.25, -43.5))
            ThreePointArc((27.25, -43.5), (28, -42.75), (28.75, -43.5))
        make_face()
        with BuildLine():
            Line((30.75, -43.5), (30.75, -51.5))
            ThreePointArc((30.75, -51.5), (30, -52.25), (29.25, -51.5))
            Line((29.25, -51.5), (29.25, -43.5))
            ThreePointArc((29.25, -43.5), (30, -42.75), (30.75, -43.5))
        make_face()
        with BuildLine():
            Line((32.75, -43.5), (32.75, -51.5))
            ThreePointArc((32.75, -51.5), (32, -52.25), (31.25, -51.5))
            Line((31.25, -51.5), (31.25, -43.5))
            ThreePointArc((31.25, -43.5), (32, -42.75), (32.75, -43.5))
        make_face()
        with BuildLine():
            Line((11.566696277, -43.502585149), (11.566696277, -51.502585149))
            ThreePointArc((11.566696277, -51.502585149), (10.816696277, -52.252585149), (10.066696277, -51.502585149))
            Line((10.066696277, -51.502585149), (10.066696277, -43.502585149))
            ThreePointArc((10.066696277, -43.502585149), (10.816696277, -42.752585149), (11.566696277, -43.502585149))
        make_face()
        with BuildLine():
            Line((13.566696277, -43.502585149), (13.566696277, -51.502585149))
            ThreePointArc((13.566696277, -51.502585149), (12.816696277, -52.252585149), (12.066696277, -51.502585149))
            Line((12.066696277, -51.502585149), (12.066696277, -43.502585149))
            ThreePointArc((12.066696277, -43.502585149), (12.816696277, -42.752585149), (13.566696277, -43.502585149))
        make_face()
        with BuildLine():
            Line((15.566696277, -43.502585149), (15.566696277, -51.502585149))
            ThreePointArc((15.566696277, -51.502585149), (14.816696277, -52.252585149), (14.066696277, -51.502585149))
            Line((14.066696277, -51.502585149), (14.066696277, -43.502585149))
            ThreePointArc((14.066696277, -43.502585149), (14.816696277, -42.752585149), (15.566696277, -43.502585149))
        make_face()
        with BuildLine():
            Line((17.566696277, -43.502585149), (17.566696277, -51.502585149))
            ThreePointArc((17.566696277, -51.502585149), (16.816696277, -52.252585149), (16.066696277, -51.502585149))
            Line((16.066696277, -51.502585149), (16.066696277, -43.502585149))
            ThreePointArc((16.066696277, -43.502585149), (16.816696277, -42.752585149), (17.566696277, -43.502585149))
        make_face()
    extrude(amount=-CUT_EXTRUDE19_DEPTH, mode=Mode.SUBTRACT)


solid = part.part
